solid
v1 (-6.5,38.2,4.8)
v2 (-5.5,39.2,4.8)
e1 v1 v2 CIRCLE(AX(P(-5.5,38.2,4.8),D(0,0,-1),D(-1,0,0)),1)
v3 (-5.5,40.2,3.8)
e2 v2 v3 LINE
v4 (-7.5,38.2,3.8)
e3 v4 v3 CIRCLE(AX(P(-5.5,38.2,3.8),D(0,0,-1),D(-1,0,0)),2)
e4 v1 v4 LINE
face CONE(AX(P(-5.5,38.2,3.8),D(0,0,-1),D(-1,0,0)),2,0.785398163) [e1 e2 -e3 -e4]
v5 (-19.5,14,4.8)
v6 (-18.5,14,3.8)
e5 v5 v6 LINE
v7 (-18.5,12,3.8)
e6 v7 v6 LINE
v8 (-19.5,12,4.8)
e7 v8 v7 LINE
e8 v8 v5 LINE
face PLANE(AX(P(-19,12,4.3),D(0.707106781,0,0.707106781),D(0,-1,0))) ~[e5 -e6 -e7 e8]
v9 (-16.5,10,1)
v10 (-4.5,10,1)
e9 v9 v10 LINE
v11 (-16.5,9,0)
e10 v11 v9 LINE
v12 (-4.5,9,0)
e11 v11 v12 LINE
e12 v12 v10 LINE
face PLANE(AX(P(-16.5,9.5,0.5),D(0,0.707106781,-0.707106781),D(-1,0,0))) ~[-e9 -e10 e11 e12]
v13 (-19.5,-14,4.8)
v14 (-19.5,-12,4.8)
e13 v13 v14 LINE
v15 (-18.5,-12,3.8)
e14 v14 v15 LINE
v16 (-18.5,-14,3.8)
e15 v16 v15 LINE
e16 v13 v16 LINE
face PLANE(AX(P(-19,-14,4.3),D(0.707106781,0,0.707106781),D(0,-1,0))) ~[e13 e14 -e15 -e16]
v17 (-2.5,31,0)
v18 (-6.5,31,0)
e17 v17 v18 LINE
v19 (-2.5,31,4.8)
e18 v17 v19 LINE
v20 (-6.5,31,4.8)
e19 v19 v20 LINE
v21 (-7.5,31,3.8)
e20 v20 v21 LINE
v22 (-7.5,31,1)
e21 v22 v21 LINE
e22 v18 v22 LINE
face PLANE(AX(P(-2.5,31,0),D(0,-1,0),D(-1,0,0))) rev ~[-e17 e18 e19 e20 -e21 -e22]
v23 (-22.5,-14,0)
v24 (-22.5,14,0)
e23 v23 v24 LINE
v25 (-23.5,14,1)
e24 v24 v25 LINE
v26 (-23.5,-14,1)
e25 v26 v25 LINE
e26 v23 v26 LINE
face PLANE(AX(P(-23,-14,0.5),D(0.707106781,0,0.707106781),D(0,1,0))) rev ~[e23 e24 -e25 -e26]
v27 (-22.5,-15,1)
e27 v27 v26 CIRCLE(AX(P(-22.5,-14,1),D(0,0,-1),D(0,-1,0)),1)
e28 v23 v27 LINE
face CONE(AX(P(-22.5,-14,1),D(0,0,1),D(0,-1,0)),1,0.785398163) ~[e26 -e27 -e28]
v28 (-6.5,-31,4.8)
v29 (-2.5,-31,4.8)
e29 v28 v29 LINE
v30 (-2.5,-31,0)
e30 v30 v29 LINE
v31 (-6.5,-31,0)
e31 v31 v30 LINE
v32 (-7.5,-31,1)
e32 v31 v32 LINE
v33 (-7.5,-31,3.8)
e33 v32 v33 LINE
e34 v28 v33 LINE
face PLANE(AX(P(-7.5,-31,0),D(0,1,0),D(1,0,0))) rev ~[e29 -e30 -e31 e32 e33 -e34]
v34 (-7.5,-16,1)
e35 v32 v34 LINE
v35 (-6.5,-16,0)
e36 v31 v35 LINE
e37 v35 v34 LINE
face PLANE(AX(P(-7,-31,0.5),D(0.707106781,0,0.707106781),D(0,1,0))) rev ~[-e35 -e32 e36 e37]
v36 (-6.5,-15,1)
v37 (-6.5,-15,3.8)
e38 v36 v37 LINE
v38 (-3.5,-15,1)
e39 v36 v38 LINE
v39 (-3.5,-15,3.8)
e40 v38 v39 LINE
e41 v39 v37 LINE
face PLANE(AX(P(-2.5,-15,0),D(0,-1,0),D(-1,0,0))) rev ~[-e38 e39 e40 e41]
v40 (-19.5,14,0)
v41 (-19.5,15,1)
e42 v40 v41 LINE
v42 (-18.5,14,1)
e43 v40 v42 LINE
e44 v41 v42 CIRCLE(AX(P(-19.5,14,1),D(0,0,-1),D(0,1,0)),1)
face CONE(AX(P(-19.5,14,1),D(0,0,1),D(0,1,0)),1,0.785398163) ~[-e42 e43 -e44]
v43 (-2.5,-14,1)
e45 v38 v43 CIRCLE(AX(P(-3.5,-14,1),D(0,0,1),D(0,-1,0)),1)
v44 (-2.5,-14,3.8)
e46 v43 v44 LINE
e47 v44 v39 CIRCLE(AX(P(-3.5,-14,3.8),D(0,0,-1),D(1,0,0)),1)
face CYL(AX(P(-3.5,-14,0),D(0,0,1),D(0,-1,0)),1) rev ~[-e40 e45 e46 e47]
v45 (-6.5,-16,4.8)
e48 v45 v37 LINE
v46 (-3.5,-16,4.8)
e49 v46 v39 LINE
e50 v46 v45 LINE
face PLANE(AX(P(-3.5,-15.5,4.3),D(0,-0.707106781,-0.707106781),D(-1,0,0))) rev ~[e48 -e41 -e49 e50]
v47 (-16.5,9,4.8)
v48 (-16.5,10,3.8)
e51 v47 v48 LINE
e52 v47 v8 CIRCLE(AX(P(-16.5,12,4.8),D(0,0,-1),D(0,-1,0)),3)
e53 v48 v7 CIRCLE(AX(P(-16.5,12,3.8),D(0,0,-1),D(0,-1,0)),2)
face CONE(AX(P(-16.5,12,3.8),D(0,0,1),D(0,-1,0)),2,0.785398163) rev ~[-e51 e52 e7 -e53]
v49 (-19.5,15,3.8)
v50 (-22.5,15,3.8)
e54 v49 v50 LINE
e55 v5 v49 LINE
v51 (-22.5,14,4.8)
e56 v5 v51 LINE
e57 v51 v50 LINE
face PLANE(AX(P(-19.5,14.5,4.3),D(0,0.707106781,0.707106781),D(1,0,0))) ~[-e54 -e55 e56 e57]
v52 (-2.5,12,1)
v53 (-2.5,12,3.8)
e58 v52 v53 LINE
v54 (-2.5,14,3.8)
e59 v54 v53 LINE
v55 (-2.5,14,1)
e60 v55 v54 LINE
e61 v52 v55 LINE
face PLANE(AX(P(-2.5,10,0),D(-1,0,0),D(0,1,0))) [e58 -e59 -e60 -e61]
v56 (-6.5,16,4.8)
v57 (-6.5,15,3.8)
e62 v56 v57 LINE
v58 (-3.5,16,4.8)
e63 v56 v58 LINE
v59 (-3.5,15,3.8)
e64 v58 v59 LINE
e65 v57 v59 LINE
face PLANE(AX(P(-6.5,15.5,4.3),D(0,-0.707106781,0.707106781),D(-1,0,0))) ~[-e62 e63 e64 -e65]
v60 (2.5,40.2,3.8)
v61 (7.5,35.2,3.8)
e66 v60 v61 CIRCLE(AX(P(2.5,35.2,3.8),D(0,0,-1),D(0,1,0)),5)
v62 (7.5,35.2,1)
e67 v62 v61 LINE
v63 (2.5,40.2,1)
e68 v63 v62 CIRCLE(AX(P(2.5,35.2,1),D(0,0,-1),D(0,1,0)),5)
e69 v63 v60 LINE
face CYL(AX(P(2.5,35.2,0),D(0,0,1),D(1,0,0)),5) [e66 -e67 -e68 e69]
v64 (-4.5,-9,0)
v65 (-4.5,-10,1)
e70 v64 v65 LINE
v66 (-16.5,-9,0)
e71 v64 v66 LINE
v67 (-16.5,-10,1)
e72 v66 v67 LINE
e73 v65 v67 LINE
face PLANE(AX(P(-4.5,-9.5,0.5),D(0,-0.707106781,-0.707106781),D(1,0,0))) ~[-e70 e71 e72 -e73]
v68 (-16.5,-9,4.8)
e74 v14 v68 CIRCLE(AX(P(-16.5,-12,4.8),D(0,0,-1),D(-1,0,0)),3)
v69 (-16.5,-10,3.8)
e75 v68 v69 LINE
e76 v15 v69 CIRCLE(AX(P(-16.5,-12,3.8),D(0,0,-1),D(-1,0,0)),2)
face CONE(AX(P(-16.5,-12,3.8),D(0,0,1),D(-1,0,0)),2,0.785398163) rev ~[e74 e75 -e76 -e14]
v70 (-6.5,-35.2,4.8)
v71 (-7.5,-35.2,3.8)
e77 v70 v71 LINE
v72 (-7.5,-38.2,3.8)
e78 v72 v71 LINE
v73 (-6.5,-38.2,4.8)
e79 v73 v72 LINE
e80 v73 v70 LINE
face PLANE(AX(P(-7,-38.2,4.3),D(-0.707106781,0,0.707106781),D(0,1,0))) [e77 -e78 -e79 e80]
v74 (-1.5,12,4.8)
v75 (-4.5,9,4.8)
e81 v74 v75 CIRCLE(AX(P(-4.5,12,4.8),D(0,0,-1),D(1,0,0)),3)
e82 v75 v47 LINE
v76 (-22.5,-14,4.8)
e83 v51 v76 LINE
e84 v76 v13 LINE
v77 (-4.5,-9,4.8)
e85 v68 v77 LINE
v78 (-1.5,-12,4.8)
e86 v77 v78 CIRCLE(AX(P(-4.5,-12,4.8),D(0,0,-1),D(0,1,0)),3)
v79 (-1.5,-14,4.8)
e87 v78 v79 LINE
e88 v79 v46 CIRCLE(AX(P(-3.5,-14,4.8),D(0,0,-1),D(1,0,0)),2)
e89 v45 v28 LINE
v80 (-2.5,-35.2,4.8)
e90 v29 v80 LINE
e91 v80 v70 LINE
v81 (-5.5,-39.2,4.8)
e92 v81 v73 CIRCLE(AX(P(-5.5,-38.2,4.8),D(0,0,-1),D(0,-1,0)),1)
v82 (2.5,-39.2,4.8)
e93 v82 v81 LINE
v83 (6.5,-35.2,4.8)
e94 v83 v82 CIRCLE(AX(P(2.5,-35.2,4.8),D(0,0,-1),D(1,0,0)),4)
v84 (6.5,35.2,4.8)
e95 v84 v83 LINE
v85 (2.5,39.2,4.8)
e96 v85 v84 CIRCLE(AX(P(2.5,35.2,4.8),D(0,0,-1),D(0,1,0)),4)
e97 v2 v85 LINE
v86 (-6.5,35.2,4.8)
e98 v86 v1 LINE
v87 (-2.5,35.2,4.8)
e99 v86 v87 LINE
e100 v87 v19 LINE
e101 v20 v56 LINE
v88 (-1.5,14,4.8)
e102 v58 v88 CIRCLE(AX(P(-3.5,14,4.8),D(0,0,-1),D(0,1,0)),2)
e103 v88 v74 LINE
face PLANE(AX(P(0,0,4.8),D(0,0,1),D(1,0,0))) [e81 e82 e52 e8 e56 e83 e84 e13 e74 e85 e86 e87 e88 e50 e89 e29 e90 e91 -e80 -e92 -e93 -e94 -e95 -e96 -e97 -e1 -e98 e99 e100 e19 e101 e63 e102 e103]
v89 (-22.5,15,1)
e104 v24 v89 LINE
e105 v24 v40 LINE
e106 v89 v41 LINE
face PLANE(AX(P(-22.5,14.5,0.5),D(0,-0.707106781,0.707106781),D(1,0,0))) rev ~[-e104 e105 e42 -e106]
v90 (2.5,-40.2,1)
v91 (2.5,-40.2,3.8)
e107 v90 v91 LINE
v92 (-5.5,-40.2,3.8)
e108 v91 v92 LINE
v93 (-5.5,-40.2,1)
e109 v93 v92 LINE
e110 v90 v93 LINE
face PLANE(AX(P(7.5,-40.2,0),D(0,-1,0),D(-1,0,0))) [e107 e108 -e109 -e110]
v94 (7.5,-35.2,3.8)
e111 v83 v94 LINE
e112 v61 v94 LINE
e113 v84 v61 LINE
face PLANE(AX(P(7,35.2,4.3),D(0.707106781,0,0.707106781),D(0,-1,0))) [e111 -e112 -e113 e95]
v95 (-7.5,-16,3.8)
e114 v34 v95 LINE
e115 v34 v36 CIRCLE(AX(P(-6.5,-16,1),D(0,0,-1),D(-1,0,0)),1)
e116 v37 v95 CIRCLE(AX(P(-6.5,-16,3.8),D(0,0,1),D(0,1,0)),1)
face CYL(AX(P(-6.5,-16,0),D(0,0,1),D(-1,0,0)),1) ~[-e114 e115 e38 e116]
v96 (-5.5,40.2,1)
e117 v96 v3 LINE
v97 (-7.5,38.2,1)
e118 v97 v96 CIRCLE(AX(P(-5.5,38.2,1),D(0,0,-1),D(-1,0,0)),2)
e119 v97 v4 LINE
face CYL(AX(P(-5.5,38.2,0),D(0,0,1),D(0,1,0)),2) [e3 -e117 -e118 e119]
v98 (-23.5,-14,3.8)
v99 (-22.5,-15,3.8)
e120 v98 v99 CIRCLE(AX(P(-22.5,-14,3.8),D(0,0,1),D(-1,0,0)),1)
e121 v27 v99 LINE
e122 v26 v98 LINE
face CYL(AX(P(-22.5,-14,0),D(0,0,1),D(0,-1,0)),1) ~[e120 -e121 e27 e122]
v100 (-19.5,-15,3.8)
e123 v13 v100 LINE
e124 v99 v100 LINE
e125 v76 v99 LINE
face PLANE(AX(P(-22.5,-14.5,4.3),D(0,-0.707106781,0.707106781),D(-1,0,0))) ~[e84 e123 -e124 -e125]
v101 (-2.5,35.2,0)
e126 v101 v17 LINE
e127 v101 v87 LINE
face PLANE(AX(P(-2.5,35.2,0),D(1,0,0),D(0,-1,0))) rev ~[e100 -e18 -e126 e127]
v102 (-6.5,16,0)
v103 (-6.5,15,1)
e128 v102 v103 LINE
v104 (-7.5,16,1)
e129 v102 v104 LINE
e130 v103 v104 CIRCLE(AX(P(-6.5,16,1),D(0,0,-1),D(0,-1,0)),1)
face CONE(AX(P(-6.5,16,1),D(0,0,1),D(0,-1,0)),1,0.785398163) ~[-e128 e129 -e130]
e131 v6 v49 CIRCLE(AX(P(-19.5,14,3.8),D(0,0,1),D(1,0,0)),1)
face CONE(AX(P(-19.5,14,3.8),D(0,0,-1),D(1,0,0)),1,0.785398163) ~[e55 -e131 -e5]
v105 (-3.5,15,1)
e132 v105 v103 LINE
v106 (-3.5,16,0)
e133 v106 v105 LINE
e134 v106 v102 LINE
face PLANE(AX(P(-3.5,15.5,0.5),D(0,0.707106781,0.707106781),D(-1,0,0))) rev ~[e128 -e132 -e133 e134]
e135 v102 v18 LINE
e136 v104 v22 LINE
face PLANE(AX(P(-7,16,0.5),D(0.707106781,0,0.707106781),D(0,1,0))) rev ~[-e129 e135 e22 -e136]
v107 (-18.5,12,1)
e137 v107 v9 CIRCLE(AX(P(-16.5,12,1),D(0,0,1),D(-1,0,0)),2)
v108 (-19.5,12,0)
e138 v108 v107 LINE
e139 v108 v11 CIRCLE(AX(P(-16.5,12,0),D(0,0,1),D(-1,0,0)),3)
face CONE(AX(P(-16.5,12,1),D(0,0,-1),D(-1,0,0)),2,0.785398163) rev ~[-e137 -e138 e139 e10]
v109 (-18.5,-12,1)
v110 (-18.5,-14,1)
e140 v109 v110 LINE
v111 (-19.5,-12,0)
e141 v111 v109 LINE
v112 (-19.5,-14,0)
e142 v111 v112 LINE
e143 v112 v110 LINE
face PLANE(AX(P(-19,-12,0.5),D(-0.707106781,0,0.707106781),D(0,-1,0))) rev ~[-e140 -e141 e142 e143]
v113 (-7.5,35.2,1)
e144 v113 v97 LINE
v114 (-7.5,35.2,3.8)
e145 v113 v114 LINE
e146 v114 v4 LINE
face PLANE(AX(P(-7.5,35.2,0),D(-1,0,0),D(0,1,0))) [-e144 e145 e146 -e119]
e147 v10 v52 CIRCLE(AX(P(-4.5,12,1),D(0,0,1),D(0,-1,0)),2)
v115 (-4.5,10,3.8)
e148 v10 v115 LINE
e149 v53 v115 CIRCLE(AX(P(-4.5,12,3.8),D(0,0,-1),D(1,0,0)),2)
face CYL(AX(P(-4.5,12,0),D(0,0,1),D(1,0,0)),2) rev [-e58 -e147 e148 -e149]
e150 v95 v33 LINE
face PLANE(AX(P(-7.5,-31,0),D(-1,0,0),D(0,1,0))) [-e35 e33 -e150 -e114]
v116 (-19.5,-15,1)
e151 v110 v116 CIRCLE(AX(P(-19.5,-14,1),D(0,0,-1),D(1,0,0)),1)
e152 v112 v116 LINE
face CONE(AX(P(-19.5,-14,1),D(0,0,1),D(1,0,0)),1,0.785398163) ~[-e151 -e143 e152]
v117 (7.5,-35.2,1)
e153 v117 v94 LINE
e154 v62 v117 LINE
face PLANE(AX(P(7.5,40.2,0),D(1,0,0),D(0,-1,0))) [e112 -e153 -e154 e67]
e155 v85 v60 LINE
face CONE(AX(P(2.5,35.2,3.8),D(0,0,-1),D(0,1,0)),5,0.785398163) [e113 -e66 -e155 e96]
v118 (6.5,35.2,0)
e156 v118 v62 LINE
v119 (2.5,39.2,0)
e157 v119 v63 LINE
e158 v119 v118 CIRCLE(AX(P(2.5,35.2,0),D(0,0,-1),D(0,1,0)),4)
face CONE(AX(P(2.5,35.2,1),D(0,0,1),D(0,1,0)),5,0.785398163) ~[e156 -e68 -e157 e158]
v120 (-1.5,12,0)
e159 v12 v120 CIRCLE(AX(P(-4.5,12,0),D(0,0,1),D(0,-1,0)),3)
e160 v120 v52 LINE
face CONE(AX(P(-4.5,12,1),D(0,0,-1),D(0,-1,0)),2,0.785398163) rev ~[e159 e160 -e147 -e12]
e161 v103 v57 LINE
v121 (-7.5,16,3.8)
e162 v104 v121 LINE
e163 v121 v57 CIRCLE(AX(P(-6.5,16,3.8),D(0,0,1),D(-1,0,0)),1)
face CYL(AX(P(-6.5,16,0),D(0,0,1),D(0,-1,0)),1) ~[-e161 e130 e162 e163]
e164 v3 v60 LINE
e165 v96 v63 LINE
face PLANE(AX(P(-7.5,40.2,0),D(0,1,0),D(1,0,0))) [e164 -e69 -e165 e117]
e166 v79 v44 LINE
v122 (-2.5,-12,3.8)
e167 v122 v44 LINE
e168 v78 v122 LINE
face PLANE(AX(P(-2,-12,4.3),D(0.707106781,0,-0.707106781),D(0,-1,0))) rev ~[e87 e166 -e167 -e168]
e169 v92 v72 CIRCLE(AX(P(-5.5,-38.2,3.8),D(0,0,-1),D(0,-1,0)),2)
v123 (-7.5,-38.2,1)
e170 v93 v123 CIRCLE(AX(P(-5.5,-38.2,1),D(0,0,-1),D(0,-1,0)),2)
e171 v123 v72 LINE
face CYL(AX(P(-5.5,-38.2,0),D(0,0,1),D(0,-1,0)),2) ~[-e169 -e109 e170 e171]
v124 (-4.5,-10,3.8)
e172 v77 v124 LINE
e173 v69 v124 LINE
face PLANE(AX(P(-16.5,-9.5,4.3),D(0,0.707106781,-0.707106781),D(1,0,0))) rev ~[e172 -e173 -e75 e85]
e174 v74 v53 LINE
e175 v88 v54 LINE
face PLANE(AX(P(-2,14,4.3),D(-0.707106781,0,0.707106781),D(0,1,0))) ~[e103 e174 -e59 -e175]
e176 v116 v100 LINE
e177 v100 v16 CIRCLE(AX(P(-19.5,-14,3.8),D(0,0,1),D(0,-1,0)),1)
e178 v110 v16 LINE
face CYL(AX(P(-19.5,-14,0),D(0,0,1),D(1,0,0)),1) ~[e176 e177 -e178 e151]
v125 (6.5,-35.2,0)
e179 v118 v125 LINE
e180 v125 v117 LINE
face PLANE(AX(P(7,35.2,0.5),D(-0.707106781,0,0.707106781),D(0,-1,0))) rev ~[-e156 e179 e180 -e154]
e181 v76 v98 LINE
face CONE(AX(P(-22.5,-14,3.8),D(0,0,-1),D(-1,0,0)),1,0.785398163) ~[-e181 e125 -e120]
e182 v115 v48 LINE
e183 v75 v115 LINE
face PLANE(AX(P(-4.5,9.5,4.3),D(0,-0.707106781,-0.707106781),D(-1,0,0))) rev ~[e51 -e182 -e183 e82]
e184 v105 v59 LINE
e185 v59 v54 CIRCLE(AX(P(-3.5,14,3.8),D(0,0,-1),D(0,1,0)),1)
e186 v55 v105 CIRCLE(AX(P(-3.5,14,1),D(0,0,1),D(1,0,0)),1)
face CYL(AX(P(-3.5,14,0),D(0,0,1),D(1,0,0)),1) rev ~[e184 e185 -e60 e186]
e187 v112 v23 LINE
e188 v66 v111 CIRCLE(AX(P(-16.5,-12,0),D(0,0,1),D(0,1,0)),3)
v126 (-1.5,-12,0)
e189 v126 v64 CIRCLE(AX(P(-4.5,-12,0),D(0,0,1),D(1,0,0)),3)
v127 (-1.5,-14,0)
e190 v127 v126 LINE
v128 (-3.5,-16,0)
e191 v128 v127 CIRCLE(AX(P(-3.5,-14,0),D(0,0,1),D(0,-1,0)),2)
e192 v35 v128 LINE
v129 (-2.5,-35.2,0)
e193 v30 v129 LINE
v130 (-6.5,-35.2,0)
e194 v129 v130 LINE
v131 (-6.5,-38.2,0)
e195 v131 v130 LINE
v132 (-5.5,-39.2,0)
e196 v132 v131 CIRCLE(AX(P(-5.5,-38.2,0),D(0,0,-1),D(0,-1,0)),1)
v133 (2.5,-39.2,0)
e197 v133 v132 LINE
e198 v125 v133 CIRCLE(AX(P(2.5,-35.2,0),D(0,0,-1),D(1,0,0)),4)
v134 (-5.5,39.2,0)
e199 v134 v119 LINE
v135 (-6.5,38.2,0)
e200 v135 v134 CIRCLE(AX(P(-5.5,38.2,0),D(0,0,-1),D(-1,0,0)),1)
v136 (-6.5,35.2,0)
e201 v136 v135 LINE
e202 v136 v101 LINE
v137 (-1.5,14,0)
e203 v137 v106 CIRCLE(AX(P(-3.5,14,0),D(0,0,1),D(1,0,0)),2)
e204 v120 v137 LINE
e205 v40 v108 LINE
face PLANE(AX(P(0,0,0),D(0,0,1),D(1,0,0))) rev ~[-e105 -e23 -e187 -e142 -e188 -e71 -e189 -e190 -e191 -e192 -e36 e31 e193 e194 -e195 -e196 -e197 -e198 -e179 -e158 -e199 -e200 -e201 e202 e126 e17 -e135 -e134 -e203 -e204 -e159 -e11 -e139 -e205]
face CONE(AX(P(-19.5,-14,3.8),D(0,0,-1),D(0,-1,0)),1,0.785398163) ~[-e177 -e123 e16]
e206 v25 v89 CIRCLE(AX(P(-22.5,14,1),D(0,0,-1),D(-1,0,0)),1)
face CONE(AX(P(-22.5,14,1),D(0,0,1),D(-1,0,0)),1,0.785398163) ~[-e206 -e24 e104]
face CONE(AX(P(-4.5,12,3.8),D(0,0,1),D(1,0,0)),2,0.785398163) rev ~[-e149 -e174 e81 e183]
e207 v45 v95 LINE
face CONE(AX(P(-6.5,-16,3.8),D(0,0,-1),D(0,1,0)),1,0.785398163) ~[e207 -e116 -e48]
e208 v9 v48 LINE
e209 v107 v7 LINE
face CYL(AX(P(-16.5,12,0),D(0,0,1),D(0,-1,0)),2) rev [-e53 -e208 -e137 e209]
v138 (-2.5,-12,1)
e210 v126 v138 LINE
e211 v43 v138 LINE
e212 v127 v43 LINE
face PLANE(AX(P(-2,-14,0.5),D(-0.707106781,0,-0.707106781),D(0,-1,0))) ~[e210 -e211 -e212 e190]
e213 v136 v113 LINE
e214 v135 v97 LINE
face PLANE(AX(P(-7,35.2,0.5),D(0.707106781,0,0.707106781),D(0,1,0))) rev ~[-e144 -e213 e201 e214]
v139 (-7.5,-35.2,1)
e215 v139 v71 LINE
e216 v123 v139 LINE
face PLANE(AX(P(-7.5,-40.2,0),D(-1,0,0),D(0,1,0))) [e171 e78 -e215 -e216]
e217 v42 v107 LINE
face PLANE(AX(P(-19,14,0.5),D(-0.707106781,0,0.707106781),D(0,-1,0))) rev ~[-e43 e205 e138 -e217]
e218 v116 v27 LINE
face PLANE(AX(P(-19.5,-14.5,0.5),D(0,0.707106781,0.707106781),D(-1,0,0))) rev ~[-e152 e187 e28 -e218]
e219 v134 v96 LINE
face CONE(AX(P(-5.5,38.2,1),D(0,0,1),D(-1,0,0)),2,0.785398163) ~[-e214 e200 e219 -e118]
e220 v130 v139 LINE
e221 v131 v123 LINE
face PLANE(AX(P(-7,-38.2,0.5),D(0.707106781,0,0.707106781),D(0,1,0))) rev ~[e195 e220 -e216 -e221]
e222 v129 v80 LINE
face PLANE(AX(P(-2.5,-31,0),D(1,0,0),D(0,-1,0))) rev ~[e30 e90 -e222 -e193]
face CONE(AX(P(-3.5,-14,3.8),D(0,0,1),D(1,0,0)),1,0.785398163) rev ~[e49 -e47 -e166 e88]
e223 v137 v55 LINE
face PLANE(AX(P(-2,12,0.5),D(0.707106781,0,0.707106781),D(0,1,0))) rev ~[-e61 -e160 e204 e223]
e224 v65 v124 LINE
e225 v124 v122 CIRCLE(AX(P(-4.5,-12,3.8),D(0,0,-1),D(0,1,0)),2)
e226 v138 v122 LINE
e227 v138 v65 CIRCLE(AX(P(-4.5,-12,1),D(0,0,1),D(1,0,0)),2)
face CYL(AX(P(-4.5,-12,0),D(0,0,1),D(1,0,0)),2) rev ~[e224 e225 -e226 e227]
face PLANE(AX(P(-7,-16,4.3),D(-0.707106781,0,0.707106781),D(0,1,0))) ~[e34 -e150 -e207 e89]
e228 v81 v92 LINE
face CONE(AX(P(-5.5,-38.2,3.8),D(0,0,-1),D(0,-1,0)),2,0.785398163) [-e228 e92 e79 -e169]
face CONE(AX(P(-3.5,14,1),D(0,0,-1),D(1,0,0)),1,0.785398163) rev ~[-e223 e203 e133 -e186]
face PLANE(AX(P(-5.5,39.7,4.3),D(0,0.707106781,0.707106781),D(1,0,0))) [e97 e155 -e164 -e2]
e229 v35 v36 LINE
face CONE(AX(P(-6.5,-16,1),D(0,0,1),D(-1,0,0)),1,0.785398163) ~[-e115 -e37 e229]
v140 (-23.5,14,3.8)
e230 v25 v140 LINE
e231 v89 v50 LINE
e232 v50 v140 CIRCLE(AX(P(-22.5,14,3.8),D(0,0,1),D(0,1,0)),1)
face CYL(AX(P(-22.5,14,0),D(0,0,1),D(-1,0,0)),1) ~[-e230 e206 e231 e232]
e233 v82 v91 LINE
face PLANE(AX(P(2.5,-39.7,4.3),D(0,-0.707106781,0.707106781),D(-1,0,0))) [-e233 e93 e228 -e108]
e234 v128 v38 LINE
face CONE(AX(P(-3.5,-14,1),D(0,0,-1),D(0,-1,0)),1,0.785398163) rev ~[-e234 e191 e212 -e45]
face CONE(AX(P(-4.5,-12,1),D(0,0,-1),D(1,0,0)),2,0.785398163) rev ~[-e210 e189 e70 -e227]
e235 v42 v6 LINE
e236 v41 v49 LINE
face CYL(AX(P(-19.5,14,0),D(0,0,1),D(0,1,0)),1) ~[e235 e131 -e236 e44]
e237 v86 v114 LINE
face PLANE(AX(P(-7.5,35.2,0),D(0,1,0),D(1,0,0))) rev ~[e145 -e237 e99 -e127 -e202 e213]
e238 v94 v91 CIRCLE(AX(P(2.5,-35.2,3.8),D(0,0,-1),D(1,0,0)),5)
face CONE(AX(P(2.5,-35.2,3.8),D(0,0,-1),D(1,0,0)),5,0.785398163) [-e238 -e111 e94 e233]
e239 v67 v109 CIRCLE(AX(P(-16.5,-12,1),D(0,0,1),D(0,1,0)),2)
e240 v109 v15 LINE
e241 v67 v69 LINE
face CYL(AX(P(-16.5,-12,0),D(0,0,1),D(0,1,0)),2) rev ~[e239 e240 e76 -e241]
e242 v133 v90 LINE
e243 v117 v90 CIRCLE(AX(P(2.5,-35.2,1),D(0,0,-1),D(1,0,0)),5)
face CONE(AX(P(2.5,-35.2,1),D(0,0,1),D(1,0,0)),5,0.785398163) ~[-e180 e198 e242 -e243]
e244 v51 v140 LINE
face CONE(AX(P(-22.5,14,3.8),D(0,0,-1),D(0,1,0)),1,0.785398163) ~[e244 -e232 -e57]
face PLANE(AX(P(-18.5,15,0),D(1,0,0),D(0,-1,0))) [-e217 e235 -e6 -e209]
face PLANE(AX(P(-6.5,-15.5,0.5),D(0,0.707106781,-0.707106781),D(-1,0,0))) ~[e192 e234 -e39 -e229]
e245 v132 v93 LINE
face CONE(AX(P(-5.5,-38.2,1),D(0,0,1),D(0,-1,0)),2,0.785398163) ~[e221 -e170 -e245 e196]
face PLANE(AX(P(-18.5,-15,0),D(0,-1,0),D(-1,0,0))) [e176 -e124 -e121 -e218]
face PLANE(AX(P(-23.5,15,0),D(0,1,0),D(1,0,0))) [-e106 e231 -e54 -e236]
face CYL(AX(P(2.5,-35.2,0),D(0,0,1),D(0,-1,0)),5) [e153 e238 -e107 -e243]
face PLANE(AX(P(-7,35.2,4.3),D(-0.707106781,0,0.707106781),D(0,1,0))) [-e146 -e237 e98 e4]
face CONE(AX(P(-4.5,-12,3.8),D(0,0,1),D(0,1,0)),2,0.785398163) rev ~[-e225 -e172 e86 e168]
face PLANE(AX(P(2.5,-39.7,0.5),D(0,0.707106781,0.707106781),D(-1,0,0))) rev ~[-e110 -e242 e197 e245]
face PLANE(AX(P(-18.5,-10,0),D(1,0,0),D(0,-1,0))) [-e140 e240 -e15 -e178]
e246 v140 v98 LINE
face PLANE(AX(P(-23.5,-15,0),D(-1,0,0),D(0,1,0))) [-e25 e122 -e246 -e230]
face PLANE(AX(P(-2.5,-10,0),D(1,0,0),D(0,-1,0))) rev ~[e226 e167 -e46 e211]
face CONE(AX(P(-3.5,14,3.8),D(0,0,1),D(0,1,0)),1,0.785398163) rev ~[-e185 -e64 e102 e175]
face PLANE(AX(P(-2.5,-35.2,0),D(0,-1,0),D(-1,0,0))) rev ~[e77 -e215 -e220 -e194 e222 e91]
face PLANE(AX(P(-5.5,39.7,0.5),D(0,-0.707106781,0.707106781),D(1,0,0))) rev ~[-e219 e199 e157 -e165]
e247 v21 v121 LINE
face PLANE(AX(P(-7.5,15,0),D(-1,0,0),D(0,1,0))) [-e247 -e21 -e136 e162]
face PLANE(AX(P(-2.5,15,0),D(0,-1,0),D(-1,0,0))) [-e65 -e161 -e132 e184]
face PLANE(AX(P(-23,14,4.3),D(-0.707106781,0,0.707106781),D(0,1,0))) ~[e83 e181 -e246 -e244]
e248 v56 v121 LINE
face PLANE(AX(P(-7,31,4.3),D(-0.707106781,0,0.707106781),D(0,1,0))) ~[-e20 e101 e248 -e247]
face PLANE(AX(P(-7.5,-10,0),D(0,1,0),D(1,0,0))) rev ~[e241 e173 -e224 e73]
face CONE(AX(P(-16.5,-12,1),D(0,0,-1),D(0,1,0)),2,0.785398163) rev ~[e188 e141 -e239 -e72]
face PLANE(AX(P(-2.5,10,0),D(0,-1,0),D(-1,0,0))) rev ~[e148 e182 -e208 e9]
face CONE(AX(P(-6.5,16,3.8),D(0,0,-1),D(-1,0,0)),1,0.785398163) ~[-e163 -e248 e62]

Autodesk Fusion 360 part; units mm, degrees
sketch "Sketch1" plane through (0, 0, 0) normal (0, 0, 1) x (1, 0, 0)
  line L0 (7.5, -40.2) -> (-7.5, -40.2)
  line L1 (-7.5, -40.2) -> (-7.5, 40.2)
  line L2 (-7.5, 40.2) -> (7.5, 40.2)
  line L3 (7.5, 40.2) -> (7.5, -40.2)
  line L4 (7.5, -40.2) -> (-7.5, 40.2) construction
  line L5 (-7.5, -40.2) -> (7.5, 40.2) construction
  line L6 (-7.5, 35.2) -> (-2.5, 35.2)
  line L7 (-2.5, 35.2) -> (-2.5, 31)
  line L8 (-2.5, 31) -> (-7.5, 31)
  line L9 (-7.5, 31) -> (-7.5, 35.2)
  line L10 (-7.5, -31) -> (-2.5, -31)
  line L11 (-2.5, -31) -> (-2.5, -35.2)
  line L12 (-2.5, -35.2) -> (-7.5, -35.2)
  line L13 (-7.5, -35.2) -> (-7.5, -31)
  line L14 (-2.5, 10) -> (-18.5, 10)
  line L15 (-18.5, 10) -> (-18.5, -10)
  line L16 (-18.5, -10) -> (-2.5, -10)
  line L17 (-2.5, -10) -> (-2.5, 10)
  line L18 (-23.5, 15) -> (-18.5, 15)
  line L19 (-18.5, 15) -> (-18.5, -15)
  line L20 (-18.5, -15) -> (-23.5, -15)
  line L21 (-23.5, -15) -> (-23.5, 15)
  line L22 (-2.5, -10) -> (-2.5, -15)
  line L23 (-2.5, -15) -> (-7.5, -15)
  line L24 (-2.5, 10) -> (-2.5, 15)
  line L25 (-2.5, 15) -> (-7.5, 15)
  dimension "d1" = 80.4
  dimension "d2" = 15
  dimension "d3" = 5
  dimension "d4" = 4.2
  dimension "d5" = 5
  dimension "d6" = 4.2
  dimension "d7" = 5
  dimension "d8" = 5
  dimension "d9" = 16
  dimension "d10" = 5
  dimension "d11" = 5
  dimension "d12" = 5
  dimension "d13" = 30
  dimension "d14" = 5
  dimension "d15" = 20
  dimension "d16" = 10
  dimension "d26" = 5
  dimension "d27" = 5
extrude "Extrude1" add sketch "Sketch1" along normal blind 4.8 contours L0 L1 L2 L3 L6 L7 L8 L10 L11 L12 L17 L22 L23 L24 L25 | L1 L14 L15 L16 L19 | L1 L14 L16 L17 | L15 L18 L19 L20 L21
fillet "Fillet1" radius 5 2 edges at (7.5, 40.2, 2.4) (7.5, -40.2, 2.4)
fillet "Fillet1" radius 2 6 edges at (-18.5, 10, 2.4) (-18.5, -10, 2.4) (-7.5, 40.2, 2.4) (-7.5, -40.2, 2.4) (-2.5, -10, 2.4) (-2.5, 10, 2.4)
fillet "Fillet1" radius 1 8 edges at (-18.5, 15, 2.4) (-23.5, 15, 2.4) (-18.5, -15, 2.4) (-23.5, -15, 2.4) (-2.5, 15, 2.4) (-7.5, 15, 2.4) (-2.5, -15, 2.4) (-7.5, -15, 2.4)
chamfer "Chamfer1" distance 1 angle 45 28 edges at (-10.5, 10, 4.8) (-10.5, -10, 4.8) (-10.5, -10, 0) (-10.5, 10, 0) (7.5, 0, 4.8) (7.5, 0, 0) (-18.5, -12.5, 4.8) (-18.5, -12.5, 0) (-21, -15, 4.8) (-21, -15, 0) (-23.5, 0, 4.8) (-7.5, -23, 4.8) (-7.5, -23, 0) (-7.5, -37.7, 0) (0, -40.2, 0) (0, -40.2, 4.8) (0, 40.2, 4.8) (-7.5, 37.7, 4.8) (-7.5, 37.7, 0) (-7.5, 23, 4.8) (-7.5, 23, 0) (-7.5, -37.7, 4.8) (-23.5, 0, 0) (-21, 15, 0) (0, 40.2, 0) (-18.5, 12.5, 0) (-21, 15, 4.8) (-18.5, 12.5, 4.8)
equation "d12 = d11"
equation "d16 = d15 / 2"
equation "d26 = d14"
equation "d27 = d26"
